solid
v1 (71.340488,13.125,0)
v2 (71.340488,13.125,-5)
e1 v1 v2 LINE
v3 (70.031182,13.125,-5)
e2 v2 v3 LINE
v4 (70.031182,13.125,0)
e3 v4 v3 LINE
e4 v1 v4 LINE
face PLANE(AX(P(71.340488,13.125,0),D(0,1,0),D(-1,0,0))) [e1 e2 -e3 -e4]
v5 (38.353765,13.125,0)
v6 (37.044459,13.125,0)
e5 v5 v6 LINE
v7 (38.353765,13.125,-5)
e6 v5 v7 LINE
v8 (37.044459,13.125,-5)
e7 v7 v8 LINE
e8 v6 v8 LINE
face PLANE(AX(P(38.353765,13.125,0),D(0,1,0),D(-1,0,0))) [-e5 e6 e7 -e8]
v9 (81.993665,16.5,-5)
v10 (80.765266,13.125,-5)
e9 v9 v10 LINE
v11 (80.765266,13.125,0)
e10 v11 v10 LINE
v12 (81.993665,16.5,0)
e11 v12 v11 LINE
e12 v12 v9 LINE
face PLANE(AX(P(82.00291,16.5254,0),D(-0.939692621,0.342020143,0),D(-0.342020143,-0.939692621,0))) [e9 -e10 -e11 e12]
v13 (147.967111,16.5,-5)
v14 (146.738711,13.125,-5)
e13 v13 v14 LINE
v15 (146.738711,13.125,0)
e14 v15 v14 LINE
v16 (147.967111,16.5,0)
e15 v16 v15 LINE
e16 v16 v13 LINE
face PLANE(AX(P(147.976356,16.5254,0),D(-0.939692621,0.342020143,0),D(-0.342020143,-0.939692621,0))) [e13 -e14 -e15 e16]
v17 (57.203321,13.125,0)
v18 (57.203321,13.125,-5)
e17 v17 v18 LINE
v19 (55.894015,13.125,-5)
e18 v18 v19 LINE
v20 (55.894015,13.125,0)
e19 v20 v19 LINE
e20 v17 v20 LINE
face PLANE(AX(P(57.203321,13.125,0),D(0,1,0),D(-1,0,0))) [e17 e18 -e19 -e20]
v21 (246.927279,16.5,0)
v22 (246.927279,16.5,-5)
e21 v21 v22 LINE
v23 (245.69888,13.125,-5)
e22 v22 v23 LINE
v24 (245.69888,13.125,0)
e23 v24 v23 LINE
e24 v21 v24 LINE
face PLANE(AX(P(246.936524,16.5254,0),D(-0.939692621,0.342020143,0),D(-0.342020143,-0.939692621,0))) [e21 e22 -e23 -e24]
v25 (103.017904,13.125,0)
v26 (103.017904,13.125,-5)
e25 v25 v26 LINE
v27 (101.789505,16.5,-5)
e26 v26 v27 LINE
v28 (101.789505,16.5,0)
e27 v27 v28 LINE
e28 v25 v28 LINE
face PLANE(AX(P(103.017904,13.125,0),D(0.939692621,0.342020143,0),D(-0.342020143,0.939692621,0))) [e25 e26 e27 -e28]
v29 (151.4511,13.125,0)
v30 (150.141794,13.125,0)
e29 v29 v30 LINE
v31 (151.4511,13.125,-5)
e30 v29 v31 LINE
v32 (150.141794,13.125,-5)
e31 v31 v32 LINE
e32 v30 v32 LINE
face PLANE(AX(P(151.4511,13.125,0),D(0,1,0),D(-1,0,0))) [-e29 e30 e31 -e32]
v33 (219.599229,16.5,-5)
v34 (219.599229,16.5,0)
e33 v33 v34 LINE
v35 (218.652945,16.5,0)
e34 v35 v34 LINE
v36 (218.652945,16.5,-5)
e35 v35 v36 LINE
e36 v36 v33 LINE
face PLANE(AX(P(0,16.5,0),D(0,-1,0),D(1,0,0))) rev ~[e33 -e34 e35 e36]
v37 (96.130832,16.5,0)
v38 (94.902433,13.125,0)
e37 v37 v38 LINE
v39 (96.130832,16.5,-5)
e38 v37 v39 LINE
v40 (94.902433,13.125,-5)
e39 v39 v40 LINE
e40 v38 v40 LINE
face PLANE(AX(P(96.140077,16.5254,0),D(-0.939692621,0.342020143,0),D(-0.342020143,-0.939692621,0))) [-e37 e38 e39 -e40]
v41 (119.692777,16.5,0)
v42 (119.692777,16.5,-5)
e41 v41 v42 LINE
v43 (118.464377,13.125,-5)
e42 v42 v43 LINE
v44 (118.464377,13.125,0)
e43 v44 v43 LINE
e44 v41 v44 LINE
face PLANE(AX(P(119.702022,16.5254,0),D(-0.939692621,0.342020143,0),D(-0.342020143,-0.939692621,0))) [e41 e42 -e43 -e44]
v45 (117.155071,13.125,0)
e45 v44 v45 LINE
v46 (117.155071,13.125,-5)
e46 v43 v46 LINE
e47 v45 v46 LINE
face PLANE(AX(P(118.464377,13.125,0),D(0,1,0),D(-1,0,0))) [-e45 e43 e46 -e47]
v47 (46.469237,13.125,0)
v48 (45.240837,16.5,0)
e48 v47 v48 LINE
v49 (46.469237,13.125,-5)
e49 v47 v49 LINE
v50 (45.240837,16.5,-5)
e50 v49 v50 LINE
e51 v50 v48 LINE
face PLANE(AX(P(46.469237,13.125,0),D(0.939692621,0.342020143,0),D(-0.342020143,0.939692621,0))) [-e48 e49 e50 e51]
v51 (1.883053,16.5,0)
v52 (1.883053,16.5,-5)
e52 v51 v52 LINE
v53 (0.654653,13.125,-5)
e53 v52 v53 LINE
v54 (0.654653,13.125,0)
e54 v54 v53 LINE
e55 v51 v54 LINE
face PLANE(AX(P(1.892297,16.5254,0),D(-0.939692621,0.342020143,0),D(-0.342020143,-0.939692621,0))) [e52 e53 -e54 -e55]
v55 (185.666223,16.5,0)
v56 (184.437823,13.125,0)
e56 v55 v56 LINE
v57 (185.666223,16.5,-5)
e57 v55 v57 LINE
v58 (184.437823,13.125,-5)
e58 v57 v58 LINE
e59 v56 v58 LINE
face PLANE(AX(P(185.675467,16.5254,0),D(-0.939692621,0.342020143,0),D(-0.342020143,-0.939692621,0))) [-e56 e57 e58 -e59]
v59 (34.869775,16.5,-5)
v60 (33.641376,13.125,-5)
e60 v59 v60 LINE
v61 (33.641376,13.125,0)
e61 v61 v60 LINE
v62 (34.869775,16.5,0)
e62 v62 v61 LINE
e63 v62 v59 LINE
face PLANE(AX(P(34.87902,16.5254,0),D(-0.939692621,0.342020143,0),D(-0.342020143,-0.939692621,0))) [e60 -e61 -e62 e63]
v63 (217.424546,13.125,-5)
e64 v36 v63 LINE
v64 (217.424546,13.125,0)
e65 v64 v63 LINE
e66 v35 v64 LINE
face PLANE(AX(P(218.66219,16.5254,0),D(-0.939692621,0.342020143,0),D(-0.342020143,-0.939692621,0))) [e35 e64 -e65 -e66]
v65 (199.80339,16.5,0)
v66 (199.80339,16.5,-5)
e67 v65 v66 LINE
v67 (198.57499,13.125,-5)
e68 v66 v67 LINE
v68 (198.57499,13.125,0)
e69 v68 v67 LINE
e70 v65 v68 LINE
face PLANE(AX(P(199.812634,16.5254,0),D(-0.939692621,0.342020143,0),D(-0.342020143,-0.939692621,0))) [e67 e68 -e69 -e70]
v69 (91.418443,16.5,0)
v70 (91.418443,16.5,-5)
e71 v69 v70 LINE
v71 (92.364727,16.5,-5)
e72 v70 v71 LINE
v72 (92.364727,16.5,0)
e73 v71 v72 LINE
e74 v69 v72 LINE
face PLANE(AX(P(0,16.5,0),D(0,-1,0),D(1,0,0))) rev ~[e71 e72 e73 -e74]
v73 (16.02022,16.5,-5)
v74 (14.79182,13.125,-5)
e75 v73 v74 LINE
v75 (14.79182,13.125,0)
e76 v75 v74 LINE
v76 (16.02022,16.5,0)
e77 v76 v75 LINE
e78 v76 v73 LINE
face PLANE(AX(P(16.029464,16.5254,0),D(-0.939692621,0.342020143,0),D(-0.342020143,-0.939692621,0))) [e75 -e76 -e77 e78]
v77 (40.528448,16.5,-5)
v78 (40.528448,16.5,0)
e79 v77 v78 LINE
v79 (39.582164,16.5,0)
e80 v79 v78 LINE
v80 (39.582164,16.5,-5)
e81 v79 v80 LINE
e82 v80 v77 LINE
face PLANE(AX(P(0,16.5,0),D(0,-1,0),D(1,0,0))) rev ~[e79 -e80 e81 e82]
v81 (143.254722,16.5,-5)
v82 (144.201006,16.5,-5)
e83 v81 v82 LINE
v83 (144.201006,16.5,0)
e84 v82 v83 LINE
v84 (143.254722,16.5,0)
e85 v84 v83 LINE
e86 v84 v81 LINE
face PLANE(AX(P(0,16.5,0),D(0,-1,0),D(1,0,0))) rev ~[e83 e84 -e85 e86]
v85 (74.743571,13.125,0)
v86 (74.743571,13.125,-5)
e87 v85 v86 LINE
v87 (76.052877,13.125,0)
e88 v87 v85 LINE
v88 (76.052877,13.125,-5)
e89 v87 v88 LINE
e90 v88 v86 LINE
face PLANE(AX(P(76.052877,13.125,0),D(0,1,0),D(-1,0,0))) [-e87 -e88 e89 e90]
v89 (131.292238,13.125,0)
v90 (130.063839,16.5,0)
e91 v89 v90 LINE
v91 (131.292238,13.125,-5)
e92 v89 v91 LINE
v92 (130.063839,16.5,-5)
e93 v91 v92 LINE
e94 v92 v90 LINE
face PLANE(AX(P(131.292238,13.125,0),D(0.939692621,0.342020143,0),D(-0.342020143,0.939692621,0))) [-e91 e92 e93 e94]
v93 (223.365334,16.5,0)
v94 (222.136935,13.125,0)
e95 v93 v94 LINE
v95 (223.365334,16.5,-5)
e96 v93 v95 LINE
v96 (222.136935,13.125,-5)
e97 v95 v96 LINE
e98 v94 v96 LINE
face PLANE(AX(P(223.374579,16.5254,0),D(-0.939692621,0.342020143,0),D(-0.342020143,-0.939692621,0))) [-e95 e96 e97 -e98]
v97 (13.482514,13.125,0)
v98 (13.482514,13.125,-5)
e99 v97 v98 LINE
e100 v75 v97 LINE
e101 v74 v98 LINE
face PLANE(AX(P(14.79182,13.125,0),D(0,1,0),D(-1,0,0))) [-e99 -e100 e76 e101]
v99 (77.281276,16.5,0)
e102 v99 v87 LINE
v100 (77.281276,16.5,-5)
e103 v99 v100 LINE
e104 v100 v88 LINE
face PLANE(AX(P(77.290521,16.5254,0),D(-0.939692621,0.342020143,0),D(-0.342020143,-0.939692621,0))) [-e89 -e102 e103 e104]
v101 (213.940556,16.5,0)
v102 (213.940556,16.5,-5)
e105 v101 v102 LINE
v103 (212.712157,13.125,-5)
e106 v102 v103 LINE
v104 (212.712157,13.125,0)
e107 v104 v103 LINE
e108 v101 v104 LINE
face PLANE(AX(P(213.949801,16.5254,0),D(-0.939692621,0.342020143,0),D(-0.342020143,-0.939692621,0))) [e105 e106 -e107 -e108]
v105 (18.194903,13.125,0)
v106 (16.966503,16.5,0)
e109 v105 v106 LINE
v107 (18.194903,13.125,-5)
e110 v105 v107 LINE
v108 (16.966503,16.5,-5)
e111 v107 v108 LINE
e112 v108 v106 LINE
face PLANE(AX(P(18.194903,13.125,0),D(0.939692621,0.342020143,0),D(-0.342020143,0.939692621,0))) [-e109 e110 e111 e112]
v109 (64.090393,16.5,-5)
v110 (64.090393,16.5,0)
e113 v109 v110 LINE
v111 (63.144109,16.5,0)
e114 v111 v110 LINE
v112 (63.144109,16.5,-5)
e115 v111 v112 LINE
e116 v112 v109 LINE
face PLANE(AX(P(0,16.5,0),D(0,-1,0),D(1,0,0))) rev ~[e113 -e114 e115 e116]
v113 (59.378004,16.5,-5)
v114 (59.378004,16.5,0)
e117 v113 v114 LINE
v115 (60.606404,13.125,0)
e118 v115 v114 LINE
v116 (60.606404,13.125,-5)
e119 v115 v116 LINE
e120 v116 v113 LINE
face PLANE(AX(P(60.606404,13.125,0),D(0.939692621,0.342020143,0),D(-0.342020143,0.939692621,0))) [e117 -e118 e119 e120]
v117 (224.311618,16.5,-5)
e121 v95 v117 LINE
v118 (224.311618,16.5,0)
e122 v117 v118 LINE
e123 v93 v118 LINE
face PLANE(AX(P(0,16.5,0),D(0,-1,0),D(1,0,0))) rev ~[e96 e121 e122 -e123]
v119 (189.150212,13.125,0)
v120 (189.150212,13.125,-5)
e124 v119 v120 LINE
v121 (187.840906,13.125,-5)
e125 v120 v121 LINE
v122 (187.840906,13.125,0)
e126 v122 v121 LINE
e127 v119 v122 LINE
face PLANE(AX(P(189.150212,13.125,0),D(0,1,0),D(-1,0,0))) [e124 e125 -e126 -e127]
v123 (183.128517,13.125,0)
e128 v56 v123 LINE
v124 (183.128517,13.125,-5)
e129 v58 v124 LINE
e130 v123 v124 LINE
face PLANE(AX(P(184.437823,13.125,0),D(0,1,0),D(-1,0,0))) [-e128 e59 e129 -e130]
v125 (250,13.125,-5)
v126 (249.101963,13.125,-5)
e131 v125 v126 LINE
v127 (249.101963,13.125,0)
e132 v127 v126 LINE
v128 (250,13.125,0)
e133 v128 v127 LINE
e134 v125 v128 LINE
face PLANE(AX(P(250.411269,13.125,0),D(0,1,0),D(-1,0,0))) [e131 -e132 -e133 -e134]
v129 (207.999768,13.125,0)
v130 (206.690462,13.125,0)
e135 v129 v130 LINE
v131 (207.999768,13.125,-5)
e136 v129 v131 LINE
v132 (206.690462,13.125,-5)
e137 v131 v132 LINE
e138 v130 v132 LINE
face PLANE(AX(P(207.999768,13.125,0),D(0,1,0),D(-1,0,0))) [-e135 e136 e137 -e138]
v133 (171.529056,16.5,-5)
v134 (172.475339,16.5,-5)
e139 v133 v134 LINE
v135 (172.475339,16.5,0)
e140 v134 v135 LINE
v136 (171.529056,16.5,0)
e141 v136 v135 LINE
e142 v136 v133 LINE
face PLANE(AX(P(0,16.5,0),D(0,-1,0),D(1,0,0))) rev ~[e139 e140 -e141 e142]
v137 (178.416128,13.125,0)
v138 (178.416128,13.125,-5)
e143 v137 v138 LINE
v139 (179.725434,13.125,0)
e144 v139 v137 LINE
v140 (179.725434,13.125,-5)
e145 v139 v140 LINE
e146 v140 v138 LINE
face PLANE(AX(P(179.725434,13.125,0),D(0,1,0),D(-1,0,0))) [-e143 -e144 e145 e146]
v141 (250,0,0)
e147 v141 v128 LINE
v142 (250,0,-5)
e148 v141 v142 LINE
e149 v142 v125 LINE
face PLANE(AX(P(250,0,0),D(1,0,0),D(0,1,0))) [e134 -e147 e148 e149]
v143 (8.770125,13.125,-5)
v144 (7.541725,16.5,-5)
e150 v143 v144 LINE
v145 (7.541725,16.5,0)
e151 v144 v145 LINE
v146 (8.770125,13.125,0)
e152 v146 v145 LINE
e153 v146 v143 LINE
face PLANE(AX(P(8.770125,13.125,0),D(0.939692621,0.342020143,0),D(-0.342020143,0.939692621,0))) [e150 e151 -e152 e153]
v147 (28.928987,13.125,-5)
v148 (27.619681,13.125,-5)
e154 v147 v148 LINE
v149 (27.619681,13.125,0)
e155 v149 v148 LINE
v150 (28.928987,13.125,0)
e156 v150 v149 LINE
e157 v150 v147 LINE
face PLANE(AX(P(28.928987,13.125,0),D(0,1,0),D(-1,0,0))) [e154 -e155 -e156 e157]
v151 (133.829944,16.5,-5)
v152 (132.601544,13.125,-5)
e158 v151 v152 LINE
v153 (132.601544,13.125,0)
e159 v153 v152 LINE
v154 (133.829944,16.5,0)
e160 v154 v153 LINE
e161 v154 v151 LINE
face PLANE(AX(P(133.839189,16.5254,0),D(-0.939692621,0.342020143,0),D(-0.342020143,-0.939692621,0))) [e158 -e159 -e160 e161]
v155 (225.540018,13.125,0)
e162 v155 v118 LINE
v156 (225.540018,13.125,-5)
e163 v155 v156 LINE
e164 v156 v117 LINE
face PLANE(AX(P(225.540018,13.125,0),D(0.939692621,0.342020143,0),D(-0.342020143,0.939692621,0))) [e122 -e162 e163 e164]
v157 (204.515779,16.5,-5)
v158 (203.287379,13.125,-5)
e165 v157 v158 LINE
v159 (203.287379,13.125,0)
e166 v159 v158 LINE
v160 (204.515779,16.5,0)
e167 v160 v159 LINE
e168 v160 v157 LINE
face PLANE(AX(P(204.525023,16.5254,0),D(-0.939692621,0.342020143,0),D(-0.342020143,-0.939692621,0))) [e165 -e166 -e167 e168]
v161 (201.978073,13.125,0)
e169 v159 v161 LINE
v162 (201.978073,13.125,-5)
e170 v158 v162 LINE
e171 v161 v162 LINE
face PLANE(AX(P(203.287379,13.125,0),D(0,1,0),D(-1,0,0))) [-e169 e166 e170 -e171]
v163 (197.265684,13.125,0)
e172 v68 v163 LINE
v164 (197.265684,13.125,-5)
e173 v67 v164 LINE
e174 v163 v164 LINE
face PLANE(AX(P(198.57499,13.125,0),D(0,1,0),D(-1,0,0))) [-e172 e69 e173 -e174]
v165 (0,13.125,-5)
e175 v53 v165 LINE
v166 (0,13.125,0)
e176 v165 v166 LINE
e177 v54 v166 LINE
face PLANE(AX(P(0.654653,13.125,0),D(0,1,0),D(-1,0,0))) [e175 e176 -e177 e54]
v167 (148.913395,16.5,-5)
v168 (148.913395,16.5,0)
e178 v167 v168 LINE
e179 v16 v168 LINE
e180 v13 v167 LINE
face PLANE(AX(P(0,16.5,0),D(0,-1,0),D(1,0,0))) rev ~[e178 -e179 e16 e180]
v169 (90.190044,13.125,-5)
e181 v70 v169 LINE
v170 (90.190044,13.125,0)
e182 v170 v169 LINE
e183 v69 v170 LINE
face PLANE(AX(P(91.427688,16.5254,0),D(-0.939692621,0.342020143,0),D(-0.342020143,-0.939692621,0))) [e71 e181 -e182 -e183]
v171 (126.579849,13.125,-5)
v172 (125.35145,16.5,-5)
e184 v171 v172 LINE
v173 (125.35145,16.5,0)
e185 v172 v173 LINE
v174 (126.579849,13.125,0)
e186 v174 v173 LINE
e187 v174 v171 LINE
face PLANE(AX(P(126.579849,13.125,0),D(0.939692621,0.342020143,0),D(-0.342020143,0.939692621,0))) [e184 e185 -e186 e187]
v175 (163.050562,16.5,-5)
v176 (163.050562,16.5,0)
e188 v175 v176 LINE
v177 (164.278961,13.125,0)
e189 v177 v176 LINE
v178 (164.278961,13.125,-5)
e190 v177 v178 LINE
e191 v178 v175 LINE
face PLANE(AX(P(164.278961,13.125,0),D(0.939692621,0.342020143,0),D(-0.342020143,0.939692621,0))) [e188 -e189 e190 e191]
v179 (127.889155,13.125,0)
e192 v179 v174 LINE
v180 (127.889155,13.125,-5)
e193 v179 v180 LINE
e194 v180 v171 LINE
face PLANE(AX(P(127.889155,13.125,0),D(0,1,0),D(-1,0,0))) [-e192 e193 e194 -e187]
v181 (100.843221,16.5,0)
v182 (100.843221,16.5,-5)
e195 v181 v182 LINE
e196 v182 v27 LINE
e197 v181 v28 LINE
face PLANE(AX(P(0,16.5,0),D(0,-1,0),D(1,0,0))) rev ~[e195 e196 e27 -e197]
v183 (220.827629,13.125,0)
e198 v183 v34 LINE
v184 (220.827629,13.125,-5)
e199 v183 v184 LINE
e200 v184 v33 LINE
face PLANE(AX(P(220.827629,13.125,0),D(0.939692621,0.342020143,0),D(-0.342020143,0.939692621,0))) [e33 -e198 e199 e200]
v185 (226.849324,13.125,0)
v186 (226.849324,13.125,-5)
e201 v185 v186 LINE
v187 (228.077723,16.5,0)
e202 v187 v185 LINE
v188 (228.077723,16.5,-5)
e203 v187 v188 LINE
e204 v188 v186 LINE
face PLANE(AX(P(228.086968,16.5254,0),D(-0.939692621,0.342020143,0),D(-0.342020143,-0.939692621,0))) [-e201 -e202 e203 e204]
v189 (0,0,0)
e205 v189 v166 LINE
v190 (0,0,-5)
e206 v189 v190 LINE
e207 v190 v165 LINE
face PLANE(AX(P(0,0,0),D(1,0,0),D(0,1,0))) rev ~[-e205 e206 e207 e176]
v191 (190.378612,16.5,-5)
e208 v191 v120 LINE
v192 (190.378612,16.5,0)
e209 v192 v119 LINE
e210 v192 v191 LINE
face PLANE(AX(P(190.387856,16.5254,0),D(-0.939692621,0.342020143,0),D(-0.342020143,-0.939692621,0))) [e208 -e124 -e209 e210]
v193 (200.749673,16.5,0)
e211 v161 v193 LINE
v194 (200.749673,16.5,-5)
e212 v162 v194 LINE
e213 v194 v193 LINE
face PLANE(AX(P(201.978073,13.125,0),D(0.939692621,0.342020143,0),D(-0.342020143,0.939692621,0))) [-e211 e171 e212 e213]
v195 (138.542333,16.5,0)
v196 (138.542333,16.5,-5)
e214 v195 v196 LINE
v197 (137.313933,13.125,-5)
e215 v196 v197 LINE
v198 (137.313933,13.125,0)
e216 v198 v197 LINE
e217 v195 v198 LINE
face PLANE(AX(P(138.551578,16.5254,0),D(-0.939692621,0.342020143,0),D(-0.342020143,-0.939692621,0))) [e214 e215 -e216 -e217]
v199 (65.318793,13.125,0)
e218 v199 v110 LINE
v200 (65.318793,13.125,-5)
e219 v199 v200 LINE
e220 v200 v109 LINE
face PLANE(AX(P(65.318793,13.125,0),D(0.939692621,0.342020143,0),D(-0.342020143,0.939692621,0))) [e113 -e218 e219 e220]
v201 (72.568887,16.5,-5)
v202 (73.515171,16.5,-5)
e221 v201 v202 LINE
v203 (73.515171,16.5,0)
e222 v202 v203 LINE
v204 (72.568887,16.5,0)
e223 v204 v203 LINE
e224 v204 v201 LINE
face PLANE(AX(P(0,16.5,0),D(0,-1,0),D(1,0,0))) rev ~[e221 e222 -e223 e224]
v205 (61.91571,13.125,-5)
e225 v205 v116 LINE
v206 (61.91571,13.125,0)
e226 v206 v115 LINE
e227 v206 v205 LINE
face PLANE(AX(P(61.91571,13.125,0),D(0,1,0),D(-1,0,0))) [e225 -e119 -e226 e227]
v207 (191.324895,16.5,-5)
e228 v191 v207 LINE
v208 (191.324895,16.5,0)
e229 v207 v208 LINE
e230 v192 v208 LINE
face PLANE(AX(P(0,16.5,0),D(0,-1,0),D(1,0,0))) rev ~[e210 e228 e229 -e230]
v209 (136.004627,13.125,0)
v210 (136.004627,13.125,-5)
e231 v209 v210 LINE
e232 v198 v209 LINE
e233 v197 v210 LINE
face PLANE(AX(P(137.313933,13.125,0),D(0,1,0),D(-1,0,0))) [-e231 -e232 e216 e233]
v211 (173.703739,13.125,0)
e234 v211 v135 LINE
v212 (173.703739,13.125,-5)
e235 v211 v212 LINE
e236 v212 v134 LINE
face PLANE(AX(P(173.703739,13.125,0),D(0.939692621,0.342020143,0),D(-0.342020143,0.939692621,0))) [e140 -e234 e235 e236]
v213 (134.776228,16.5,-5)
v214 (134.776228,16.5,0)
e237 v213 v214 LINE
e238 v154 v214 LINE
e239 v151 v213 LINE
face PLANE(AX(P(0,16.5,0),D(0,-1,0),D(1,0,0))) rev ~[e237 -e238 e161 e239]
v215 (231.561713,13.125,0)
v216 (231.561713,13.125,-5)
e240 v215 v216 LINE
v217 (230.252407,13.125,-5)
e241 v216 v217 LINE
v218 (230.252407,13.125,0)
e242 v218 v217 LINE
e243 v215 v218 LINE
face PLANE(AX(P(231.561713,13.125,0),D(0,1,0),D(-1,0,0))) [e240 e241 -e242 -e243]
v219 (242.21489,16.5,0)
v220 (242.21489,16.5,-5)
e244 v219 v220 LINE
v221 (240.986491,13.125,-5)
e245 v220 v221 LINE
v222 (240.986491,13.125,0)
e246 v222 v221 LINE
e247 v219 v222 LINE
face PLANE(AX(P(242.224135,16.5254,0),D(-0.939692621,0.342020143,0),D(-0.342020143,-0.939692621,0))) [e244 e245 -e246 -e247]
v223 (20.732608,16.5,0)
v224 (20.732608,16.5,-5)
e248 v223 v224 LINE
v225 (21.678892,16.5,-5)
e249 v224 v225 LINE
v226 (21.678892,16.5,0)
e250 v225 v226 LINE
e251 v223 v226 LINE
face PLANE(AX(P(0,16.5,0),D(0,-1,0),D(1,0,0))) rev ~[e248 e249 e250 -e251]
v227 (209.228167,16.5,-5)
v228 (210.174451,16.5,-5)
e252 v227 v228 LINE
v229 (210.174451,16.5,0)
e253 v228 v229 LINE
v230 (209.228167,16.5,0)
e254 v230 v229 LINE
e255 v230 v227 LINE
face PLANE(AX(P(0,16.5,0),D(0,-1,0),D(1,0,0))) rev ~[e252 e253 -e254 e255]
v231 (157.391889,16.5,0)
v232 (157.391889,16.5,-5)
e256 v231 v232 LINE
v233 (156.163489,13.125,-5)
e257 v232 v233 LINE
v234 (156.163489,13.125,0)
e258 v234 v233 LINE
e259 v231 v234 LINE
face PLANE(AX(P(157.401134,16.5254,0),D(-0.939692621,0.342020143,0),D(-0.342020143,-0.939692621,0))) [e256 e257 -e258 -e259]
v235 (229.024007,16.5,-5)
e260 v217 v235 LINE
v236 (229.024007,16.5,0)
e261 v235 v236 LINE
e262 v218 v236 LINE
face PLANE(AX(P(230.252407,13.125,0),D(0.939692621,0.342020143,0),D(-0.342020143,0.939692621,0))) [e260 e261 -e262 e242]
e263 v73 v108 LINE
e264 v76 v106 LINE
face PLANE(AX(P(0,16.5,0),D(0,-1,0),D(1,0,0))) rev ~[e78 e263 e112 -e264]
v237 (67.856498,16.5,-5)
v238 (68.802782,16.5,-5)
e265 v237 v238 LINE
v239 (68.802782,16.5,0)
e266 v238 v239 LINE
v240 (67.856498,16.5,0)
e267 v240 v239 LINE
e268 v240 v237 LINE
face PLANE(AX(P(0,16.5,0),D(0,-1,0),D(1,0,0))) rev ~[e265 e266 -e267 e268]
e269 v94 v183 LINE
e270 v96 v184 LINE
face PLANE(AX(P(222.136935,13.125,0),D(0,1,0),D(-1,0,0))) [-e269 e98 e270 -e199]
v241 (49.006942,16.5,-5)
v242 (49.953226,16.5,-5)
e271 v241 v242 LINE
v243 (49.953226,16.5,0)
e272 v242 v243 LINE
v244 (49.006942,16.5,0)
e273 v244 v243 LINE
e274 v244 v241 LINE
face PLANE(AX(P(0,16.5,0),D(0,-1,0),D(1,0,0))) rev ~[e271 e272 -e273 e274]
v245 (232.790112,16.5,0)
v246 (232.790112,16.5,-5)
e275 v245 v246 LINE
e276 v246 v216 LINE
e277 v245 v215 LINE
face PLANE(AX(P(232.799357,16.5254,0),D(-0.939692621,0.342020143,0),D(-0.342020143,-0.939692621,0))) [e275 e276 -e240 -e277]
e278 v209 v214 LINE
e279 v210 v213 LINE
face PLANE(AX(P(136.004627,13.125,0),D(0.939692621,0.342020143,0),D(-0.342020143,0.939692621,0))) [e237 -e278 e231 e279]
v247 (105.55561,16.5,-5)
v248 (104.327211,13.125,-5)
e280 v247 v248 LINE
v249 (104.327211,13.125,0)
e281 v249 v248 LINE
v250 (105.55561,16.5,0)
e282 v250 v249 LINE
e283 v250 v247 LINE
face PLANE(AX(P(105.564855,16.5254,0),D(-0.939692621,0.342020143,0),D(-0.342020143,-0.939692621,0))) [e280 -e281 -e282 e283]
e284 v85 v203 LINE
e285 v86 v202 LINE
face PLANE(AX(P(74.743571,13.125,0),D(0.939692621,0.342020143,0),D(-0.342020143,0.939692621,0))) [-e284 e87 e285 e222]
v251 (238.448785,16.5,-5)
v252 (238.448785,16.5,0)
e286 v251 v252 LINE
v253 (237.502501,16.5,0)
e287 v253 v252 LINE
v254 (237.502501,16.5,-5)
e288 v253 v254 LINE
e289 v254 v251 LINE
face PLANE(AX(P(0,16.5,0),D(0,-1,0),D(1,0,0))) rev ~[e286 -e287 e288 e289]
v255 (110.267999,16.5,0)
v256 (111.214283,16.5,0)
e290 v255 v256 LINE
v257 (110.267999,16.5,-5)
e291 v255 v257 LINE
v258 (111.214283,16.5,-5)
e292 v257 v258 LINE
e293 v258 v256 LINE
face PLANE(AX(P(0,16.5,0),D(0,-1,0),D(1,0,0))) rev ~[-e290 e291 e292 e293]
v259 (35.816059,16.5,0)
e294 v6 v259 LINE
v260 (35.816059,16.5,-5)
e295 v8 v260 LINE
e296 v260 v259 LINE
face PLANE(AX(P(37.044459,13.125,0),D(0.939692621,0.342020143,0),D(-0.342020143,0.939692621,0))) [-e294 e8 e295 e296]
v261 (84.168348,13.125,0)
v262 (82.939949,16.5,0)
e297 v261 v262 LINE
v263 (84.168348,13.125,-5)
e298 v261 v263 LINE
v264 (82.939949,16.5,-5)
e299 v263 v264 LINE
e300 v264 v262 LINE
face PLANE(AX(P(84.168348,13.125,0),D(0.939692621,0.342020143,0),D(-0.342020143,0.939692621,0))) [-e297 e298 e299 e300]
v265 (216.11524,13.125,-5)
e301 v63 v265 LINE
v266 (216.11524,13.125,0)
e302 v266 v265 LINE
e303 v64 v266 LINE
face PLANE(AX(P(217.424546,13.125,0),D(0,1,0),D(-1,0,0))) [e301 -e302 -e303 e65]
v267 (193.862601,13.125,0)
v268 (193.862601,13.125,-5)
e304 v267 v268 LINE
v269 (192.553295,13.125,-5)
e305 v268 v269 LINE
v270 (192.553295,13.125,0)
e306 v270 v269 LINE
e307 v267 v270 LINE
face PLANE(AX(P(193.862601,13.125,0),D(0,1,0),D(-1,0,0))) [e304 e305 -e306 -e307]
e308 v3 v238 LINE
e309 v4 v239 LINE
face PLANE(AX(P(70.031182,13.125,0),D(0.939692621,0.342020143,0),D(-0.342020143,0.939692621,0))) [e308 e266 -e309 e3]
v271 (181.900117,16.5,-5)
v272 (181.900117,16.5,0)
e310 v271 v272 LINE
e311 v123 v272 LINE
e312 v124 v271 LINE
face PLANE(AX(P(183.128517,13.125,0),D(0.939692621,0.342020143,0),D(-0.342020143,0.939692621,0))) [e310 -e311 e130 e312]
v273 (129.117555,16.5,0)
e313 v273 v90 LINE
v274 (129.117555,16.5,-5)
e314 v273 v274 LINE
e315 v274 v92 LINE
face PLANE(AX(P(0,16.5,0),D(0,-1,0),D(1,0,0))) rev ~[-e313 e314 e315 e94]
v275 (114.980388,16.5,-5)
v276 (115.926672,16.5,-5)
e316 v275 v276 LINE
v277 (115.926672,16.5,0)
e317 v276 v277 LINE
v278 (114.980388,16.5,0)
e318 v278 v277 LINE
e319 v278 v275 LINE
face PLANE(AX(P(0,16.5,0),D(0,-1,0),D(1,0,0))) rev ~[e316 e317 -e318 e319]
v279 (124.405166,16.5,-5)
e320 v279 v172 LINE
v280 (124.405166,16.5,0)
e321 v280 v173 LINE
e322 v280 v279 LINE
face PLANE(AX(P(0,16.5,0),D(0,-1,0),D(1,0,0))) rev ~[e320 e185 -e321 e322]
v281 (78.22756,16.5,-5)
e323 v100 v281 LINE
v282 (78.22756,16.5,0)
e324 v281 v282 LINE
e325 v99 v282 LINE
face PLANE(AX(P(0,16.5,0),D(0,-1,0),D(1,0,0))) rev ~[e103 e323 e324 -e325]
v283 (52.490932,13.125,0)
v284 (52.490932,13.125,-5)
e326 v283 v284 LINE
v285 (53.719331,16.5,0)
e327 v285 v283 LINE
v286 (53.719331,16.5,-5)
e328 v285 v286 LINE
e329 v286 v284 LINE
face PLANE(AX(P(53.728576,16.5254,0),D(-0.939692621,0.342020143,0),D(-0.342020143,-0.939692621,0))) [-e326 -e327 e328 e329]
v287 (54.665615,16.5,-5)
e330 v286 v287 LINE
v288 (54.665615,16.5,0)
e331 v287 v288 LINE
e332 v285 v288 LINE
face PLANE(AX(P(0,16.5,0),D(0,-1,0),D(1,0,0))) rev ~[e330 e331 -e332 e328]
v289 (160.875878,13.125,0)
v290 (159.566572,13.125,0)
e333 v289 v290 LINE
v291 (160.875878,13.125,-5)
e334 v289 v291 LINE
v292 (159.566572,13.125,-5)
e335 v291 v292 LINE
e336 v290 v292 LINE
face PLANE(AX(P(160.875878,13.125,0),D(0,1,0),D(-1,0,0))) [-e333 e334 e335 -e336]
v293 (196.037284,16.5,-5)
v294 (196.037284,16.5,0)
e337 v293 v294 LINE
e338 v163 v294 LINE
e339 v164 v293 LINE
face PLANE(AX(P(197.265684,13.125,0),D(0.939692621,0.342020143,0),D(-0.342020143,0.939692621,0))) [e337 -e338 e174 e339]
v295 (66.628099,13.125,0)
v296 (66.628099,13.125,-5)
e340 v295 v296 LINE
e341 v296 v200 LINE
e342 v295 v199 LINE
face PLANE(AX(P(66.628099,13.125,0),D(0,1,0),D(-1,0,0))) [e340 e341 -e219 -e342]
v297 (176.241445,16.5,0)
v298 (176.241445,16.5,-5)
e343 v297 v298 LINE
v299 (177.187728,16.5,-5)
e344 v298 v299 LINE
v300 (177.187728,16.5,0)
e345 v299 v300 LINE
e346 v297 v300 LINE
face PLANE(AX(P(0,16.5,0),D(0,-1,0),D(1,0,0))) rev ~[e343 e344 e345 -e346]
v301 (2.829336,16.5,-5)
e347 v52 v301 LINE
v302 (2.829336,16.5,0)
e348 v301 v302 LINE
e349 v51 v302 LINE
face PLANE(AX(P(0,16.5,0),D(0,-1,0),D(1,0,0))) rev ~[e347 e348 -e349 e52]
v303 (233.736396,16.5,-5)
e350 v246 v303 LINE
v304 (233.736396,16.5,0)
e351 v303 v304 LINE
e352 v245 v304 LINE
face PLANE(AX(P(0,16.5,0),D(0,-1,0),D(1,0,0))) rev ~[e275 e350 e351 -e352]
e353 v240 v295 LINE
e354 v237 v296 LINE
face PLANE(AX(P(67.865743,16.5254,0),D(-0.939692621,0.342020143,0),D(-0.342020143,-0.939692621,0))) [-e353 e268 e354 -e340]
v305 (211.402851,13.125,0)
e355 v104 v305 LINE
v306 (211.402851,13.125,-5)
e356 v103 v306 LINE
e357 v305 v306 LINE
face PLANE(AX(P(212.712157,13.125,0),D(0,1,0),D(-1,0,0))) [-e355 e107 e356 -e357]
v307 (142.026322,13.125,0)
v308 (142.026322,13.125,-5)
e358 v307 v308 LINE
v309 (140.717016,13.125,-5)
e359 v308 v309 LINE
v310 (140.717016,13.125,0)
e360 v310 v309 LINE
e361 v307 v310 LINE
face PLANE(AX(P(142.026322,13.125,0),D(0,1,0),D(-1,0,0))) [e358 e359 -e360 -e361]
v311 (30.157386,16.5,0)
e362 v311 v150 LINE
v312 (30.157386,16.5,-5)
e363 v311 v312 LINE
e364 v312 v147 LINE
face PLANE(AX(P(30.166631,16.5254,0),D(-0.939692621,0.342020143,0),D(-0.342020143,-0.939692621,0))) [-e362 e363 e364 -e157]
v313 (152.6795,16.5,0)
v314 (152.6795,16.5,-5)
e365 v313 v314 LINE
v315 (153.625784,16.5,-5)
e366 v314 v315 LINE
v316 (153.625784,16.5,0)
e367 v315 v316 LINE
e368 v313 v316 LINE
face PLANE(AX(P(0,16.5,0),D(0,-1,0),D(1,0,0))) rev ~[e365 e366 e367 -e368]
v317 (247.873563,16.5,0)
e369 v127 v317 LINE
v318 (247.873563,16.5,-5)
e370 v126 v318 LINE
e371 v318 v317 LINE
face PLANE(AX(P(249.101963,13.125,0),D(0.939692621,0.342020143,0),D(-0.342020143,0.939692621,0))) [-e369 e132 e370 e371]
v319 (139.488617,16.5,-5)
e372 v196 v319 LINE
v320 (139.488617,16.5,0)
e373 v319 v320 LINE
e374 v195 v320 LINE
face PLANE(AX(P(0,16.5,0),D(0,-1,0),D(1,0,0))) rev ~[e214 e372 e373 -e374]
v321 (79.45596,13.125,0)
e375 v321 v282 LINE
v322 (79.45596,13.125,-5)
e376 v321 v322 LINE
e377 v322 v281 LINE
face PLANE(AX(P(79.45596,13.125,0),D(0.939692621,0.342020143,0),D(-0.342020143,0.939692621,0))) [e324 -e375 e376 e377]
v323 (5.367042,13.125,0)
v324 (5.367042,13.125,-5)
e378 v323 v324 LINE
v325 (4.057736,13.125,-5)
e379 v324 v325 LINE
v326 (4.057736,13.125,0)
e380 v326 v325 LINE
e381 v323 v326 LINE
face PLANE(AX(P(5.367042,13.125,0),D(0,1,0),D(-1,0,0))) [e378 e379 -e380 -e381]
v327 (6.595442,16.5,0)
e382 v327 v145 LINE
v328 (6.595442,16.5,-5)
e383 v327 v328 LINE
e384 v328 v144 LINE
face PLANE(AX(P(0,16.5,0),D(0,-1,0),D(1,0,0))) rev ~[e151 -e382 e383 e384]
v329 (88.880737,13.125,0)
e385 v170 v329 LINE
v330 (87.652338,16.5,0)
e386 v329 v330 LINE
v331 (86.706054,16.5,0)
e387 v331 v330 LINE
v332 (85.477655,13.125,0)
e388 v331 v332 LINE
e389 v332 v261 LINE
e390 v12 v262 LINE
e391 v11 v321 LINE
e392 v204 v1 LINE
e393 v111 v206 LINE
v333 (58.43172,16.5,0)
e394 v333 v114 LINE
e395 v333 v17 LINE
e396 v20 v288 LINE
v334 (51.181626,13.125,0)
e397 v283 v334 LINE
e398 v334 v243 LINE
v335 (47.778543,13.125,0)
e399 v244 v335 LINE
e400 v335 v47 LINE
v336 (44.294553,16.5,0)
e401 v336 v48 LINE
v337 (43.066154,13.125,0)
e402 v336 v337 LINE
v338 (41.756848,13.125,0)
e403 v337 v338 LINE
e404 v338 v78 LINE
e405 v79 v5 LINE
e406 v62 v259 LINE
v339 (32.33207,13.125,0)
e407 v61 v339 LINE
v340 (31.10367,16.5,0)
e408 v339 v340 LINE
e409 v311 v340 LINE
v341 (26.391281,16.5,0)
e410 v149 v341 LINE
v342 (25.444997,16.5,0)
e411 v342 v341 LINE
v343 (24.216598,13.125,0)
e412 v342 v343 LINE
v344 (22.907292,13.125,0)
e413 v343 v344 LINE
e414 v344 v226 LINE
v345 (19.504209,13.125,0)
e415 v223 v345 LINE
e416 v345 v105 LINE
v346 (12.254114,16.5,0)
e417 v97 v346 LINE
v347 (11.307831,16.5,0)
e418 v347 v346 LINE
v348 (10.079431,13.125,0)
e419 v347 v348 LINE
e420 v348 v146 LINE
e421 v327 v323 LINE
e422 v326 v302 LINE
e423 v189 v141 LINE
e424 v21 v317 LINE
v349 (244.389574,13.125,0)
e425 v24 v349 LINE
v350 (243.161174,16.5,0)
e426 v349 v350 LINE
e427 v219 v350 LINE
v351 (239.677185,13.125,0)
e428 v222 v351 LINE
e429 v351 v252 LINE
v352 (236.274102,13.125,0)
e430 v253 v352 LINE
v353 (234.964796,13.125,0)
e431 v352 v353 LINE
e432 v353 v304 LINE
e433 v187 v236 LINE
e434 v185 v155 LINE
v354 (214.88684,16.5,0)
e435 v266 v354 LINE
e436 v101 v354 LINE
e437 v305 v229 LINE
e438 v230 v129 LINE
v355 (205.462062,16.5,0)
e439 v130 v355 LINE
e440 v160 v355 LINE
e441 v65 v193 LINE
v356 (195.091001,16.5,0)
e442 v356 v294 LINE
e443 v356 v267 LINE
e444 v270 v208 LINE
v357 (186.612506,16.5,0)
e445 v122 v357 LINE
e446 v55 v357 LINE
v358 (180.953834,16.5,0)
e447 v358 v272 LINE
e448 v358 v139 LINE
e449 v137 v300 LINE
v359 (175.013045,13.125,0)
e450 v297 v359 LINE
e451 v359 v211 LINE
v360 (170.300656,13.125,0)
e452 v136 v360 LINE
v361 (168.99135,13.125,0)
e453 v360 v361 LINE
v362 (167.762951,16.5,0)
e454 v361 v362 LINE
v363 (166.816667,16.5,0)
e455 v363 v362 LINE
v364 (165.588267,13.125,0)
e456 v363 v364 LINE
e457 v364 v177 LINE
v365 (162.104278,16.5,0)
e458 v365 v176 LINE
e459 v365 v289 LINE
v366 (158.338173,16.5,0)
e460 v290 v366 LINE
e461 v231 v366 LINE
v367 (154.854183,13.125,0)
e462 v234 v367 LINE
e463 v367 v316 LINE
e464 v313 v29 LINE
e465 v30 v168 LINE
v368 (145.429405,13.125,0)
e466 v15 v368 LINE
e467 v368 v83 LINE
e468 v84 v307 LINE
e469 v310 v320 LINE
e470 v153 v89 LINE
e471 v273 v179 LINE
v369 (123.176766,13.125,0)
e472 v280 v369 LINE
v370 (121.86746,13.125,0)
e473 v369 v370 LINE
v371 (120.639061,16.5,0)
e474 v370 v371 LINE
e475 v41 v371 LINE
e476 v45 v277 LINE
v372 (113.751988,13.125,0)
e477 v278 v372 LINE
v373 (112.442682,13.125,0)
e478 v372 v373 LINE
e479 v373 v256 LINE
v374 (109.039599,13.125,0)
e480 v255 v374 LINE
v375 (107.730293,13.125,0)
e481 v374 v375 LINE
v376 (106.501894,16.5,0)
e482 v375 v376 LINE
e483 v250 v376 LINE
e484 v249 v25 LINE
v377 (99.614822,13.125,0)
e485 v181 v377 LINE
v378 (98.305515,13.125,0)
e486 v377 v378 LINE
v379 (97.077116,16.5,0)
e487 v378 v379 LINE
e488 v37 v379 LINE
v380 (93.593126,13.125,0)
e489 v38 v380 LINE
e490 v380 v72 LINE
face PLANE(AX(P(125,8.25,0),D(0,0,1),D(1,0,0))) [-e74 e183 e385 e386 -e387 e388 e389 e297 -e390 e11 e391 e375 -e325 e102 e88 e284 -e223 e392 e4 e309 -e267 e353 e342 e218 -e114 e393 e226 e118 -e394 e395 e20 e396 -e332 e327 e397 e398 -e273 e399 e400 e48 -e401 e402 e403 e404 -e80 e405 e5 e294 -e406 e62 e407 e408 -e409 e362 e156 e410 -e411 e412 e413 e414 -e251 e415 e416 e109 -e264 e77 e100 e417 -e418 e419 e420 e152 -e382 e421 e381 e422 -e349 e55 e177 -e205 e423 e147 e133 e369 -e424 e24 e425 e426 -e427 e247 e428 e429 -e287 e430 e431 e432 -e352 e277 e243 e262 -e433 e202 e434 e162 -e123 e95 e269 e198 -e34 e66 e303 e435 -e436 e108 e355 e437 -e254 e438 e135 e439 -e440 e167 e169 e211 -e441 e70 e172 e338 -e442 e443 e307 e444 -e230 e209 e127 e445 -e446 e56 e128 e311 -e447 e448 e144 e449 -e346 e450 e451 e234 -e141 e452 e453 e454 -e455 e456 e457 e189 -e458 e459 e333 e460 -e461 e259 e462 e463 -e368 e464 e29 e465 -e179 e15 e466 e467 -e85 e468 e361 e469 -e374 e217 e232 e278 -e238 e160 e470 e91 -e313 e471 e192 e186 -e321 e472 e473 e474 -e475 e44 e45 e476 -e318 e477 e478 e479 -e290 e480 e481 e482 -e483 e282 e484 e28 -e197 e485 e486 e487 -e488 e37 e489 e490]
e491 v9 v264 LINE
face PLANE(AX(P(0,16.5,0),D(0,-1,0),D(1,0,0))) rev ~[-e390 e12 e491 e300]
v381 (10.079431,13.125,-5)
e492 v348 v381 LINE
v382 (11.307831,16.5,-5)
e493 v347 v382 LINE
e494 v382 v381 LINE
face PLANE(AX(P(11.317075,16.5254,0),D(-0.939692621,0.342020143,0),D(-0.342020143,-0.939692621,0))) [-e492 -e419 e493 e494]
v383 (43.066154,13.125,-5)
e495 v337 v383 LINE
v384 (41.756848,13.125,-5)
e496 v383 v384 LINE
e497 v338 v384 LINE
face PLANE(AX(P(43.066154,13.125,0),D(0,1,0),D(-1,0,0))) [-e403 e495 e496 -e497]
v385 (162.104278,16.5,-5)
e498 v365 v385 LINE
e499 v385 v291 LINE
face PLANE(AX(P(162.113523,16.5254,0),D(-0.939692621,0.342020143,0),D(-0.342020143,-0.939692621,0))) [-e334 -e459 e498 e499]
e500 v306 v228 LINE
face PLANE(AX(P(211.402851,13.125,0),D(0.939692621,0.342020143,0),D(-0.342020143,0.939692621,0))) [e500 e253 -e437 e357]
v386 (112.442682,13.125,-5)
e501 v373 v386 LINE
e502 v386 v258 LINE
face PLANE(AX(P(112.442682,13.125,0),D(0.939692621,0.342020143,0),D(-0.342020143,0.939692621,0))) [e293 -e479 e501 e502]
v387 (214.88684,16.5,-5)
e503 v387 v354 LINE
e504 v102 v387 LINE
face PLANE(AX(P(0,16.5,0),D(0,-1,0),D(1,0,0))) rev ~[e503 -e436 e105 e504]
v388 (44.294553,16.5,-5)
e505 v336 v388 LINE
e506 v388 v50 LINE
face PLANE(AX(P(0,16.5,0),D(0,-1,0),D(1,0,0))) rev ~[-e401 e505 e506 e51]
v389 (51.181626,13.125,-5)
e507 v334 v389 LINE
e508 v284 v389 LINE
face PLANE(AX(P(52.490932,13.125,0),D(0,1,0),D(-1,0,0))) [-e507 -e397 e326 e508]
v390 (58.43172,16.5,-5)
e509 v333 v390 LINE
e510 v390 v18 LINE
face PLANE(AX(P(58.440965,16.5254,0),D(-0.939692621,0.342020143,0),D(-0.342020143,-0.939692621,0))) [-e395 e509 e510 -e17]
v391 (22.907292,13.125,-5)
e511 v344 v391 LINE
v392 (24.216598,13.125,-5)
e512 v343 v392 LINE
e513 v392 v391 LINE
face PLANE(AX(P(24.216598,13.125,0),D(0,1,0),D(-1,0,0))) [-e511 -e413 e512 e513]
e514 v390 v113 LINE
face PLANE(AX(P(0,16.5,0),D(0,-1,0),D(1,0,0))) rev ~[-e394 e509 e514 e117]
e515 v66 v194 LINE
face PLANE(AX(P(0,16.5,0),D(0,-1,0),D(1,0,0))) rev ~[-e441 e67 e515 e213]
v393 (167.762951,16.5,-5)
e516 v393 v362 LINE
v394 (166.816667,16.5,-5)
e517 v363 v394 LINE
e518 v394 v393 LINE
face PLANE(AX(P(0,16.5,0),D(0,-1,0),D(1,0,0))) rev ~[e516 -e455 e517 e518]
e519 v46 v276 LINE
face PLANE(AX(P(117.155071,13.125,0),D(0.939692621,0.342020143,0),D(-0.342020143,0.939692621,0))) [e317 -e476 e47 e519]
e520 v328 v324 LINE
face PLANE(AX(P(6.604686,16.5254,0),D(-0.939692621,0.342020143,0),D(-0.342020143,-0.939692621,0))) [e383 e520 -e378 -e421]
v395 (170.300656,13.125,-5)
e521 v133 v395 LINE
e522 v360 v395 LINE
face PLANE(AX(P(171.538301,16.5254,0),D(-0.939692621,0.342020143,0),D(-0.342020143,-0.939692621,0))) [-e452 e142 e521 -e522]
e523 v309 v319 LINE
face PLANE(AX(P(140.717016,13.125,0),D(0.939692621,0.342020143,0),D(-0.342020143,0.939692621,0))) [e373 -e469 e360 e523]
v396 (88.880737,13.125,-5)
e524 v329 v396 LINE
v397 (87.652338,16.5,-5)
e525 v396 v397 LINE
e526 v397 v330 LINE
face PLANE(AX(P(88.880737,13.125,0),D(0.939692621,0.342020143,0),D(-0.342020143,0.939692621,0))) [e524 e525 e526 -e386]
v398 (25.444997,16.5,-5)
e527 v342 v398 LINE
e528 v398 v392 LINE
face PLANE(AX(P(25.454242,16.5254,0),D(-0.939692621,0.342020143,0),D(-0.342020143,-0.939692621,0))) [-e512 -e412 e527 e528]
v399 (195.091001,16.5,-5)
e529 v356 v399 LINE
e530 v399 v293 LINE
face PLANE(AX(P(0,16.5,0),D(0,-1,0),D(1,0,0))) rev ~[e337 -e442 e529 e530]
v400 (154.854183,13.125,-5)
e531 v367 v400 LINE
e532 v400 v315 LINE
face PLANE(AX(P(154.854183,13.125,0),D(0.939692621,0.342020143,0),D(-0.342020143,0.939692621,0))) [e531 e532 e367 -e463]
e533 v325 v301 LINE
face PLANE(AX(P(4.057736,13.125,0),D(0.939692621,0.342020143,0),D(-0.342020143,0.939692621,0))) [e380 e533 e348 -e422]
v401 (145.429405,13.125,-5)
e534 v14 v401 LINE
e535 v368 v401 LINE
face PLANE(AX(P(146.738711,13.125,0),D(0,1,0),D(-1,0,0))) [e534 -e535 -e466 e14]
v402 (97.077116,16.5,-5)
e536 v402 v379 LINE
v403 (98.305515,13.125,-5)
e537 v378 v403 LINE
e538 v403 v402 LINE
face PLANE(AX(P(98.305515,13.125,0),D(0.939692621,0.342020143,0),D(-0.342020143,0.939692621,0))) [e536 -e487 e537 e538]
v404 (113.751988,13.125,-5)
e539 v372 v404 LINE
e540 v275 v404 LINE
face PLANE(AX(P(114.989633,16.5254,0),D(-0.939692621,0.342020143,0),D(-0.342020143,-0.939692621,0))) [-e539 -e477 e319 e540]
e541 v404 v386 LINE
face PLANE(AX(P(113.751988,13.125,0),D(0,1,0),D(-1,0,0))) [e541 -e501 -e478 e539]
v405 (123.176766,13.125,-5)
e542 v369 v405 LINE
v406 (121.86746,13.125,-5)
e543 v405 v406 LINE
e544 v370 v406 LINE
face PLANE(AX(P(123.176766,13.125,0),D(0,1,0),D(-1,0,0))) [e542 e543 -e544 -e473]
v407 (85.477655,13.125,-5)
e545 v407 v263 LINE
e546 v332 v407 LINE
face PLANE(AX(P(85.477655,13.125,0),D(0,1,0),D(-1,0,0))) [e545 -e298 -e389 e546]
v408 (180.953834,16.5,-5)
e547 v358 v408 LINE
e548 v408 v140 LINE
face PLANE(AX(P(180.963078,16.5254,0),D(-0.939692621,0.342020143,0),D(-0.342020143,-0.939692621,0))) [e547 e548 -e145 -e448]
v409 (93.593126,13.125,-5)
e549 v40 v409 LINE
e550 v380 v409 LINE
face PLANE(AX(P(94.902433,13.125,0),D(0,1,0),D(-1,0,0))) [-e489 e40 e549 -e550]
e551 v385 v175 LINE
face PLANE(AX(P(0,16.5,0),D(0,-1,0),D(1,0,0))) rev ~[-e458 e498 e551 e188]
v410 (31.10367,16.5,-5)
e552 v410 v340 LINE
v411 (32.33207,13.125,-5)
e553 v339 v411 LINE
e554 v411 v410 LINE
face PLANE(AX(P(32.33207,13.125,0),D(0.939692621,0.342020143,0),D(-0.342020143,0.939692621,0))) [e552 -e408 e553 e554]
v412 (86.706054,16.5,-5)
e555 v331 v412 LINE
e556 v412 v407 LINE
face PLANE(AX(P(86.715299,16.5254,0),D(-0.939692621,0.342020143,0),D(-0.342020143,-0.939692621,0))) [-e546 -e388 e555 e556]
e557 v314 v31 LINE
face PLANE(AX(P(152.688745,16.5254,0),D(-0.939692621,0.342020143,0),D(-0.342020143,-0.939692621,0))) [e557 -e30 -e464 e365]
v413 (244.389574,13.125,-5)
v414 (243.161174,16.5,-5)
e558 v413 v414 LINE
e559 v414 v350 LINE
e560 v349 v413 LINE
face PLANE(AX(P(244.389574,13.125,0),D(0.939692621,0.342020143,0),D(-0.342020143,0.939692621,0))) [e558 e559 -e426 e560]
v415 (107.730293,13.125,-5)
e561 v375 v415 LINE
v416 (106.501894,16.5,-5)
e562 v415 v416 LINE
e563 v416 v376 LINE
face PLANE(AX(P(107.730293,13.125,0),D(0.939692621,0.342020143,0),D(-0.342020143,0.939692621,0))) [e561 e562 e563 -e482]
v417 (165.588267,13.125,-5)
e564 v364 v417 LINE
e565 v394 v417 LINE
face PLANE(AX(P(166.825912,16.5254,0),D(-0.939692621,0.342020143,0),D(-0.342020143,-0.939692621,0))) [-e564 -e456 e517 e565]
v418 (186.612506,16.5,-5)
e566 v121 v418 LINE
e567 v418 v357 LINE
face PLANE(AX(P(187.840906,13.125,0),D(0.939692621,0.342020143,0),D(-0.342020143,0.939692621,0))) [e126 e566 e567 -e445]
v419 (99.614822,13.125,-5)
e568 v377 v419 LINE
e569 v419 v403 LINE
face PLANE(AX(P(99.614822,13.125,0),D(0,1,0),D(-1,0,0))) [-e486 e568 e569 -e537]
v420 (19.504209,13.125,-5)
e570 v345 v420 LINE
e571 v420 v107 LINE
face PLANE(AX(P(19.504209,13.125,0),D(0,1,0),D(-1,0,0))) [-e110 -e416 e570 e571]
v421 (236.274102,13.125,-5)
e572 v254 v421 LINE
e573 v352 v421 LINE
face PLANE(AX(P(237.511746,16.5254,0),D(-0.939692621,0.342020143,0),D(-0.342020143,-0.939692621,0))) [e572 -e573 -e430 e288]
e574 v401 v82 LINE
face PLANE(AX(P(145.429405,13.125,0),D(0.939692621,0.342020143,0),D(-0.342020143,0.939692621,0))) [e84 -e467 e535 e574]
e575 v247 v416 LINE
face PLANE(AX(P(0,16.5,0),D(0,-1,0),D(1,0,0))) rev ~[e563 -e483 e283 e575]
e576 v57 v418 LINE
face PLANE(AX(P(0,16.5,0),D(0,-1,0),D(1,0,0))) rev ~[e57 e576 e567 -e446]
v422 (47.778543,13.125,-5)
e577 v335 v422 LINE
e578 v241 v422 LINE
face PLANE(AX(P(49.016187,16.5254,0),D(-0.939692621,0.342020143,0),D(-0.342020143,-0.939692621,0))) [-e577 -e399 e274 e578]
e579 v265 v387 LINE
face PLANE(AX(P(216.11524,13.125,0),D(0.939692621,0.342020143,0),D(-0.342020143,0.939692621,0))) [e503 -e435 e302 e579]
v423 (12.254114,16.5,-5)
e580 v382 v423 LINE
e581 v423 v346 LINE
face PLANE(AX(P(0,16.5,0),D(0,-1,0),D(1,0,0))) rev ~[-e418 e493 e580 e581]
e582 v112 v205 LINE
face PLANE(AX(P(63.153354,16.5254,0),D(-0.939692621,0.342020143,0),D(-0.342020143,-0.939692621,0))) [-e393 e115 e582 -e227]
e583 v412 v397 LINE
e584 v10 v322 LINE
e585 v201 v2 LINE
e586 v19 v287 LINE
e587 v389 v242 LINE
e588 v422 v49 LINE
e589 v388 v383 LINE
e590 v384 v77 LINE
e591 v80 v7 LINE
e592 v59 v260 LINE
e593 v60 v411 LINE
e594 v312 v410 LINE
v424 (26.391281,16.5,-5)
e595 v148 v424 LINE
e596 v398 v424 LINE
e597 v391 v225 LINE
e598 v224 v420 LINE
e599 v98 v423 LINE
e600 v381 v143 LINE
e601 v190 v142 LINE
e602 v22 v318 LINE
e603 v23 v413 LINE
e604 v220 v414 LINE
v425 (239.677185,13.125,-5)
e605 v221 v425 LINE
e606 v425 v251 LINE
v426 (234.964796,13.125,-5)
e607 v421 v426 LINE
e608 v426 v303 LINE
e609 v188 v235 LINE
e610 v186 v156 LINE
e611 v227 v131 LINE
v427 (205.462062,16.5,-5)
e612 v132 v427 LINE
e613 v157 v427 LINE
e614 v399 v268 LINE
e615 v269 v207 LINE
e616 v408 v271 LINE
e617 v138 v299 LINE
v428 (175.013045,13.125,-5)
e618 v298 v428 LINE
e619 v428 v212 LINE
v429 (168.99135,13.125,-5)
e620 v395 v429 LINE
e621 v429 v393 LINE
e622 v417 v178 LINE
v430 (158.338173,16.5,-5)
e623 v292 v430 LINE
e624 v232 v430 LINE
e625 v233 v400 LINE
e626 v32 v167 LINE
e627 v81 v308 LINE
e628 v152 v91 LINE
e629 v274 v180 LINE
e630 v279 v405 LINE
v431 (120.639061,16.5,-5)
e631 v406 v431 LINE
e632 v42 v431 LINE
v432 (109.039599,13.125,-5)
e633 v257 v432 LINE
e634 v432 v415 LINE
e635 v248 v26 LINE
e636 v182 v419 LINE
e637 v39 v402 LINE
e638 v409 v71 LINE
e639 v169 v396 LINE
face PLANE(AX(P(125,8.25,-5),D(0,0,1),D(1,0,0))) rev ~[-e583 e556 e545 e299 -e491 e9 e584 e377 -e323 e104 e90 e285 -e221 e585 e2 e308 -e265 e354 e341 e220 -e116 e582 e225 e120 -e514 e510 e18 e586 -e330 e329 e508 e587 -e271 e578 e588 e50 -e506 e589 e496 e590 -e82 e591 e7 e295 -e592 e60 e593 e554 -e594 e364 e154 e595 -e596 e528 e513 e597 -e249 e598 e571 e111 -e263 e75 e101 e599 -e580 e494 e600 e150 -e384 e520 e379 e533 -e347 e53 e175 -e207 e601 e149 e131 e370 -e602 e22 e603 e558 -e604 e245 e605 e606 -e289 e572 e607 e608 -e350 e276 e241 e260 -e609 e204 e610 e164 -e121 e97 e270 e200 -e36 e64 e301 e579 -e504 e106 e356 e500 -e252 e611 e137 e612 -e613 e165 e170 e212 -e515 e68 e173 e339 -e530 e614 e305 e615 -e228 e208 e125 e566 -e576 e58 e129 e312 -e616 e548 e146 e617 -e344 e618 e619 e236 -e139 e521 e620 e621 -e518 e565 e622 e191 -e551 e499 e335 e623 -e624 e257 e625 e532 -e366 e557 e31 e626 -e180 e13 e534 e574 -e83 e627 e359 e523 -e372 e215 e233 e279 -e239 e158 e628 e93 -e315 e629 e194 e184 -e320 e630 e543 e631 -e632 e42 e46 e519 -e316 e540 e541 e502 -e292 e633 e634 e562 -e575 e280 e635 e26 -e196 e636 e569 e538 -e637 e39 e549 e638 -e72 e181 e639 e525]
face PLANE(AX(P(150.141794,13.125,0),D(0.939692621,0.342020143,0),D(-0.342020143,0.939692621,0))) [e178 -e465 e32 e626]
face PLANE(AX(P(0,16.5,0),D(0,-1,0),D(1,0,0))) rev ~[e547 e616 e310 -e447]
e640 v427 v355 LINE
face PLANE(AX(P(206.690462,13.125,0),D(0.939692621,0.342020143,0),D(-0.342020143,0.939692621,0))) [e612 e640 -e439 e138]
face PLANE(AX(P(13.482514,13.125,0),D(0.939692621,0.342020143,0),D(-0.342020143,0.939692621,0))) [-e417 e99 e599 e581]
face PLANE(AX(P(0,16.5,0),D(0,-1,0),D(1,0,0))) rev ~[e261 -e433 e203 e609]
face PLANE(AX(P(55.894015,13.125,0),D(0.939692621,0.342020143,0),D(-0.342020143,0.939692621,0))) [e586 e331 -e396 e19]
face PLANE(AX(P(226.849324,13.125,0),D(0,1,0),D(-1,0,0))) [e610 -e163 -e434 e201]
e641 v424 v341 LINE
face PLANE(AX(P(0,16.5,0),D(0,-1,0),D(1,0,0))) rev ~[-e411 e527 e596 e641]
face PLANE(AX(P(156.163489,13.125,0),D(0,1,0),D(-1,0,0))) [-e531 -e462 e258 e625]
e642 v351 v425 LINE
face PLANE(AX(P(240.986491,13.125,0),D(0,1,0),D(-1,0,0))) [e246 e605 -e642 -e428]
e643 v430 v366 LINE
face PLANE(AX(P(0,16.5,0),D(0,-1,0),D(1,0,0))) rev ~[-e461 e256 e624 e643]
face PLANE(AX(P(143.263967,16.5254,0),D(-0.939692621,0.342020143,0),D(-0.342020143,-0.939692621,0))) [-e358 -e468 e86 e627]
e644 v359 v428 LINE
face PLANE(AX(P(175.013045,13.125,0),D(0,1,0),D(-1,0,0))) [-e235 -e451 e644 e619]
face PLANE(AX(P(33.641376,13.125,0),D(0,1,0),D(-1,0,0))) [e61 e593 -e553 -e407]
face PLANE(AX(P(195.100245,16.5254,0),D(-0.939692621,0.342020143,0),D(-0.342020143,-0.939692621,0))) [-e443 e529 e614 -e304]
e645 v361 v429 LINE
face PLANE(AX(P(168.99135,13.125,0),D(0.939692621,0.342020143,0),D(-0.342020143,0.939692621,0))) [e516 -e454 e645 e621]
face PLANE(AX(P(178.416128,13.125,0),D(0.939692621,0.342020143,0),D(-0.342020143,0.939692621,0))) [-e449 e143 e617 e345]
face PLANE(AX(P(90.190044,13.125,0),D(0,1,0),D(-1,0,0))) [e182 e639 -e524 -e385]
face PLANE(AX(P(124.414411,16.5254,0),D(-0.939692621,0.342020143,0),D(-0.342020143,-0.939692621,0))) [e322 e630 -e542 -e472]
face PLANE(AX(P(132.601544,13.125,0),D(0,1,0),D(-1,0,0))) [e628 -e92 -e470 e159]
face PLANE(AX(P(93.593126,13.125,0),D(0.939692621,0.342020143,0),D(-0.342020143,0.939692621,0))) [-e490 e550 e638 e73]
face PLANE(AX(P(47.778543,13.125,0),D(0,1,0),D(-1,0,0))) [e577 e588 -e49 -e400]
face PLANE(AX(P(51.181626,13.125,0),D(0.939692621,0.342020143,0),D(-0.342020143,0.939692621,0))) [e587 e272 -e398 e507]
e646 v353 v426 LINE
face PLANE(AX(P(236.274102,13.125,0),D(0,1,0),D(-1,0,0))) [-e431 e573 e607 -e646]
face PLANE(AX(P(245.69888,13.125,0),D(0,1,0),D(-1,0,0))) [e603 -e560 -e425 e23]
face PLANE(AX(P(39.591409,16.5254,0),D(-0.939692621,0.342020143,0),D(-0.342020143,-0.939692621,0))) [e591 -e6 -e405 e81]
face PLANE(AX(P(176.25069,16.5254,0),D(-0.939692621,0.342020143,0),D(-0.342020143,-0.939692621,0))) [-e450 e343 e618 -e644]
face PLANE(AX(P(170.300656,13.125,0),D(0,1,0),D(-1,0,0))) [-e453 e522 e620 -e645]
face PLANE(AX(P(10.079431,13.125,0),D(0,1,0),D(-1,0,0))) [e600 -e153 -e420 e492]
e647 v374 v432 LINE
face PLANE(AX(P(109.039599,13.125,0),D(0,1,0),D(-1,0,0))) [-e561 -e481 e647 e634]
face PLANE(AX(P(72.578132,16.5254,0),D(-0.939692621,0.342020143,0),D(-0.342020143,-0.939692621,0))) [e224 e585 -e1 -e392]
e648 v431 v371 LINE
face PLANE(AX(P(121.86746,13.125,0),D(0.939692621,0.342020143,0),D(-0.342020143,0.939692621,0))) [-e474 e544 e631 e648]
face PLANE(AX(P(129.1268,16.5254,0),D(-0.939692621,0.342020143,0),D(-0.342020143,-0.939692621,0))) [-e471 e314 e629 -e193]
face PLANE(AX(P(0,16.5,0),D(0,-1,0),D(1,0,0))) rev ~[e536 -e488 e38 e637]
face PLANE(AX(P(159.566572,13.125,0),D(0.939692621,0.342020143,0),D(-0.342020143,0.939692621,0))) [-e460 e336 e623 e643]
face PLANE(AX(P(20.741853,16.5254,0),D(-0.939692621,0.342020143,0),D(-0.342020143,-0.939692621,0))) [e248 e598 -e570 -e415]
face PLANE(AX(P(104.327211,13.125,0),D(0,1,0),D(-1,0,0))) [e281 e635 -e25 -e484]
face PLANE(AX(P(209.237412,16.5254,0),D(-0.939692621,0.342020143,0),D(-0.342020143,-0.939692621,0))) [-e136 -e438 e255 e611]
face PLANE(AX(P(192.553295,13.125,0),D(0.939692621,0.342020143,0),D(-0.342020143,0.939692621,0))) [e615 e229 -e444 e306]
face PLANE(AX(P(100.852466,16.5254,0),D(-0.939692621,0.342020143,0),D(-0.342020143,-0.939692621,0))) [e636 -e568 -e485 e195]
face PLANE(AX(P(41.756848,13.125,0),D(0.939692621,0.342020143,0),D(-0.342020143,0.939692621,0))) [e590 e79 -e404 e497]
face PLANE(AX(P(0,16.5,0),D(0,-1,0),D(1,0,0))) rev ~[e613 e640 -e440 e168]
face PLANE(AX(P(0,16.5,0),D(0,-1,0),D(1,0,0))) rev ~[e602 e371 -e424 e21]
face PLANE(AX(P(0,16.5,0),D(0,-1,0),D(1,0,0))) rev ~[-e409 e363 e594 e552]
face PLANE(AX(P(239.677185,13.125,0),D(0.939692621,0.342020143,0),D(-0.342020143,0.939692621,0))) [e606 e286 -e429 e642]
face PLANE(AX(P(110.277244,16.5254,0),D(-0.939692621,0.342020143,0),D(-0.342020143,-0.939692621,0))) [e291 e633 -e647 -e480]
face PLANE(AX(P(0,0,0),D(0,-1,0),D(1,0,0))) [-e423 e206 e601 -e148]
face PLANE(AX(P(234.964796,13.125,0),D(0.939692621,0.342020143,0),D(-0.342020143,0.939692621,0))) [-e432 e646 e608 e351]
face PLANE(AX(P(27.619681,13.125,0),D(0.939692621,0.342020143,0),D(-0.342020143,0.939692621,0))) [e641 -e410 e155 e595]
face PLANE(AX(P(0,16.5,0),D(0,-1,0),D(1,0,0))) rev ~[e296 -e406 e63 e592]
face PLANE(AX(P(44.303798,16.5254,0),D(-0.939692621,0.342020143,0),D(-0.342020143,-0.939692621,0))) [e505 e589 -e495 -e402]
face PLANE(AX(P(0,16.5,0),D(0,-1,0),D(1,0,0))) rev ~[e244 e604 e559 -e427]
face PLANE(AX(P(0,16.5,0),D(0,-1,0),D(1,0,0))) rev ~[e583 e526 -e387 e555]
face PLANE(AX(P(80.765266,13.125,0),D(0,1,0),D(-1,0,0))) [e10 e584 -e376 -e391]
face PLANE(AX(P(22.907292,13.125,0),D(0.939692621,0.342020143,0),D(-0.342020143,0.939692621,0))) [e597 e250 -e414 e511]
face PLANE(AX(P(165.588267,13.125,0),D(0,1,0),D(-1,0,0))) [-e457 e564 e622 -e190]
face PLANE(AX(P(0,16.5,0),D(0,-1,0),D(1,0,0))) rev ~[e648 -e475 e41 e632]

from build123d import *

# Parameters (mm, degrees)
BLANKSKE_W        = 250
BLANKSKE_H        = 16.5
BLANK_DEPTH       = 5
TOOTHCUTSIM_DEPTH = 251.593794815
TEETHCUTS_COUNT   = 54
TEETHCUTS_PITCH   = 4.712388975


with BuildPart() as part:
    # BlankSke → Blank (new body)
    with BuildSketch(Plane.XY):
        with Locations((125, 8.25)):
            Rectangle(BLANKSKE_W, BLANKSKE_H)
    extrude(amount=-BLANK_DEPTH)

    # TooCutSkeSim → ToothCutSim (cut, through all)
    with BuildSketch(Plane.XY):
        Polygon((0.654653055, 13.125), (-0.654653055, 13.125), (-1.892297439, 16.5254), (1.892297439, 16.5254), align=None)
    toothcutsim = extrude(amount=-TOOTHCUTSIM_DEPTH, mode=Mode.SUBTRACT)

    # TeethCuts: ToothCutSim ×54
    with Locations(*[(i * TEETHCUTS_PITCH, 0, 0) for i in range(1, TEETHCUTS_COUNT)]):
        add(toothcutsim, mode=Mode.SUBTRACT)


solid = part.part
